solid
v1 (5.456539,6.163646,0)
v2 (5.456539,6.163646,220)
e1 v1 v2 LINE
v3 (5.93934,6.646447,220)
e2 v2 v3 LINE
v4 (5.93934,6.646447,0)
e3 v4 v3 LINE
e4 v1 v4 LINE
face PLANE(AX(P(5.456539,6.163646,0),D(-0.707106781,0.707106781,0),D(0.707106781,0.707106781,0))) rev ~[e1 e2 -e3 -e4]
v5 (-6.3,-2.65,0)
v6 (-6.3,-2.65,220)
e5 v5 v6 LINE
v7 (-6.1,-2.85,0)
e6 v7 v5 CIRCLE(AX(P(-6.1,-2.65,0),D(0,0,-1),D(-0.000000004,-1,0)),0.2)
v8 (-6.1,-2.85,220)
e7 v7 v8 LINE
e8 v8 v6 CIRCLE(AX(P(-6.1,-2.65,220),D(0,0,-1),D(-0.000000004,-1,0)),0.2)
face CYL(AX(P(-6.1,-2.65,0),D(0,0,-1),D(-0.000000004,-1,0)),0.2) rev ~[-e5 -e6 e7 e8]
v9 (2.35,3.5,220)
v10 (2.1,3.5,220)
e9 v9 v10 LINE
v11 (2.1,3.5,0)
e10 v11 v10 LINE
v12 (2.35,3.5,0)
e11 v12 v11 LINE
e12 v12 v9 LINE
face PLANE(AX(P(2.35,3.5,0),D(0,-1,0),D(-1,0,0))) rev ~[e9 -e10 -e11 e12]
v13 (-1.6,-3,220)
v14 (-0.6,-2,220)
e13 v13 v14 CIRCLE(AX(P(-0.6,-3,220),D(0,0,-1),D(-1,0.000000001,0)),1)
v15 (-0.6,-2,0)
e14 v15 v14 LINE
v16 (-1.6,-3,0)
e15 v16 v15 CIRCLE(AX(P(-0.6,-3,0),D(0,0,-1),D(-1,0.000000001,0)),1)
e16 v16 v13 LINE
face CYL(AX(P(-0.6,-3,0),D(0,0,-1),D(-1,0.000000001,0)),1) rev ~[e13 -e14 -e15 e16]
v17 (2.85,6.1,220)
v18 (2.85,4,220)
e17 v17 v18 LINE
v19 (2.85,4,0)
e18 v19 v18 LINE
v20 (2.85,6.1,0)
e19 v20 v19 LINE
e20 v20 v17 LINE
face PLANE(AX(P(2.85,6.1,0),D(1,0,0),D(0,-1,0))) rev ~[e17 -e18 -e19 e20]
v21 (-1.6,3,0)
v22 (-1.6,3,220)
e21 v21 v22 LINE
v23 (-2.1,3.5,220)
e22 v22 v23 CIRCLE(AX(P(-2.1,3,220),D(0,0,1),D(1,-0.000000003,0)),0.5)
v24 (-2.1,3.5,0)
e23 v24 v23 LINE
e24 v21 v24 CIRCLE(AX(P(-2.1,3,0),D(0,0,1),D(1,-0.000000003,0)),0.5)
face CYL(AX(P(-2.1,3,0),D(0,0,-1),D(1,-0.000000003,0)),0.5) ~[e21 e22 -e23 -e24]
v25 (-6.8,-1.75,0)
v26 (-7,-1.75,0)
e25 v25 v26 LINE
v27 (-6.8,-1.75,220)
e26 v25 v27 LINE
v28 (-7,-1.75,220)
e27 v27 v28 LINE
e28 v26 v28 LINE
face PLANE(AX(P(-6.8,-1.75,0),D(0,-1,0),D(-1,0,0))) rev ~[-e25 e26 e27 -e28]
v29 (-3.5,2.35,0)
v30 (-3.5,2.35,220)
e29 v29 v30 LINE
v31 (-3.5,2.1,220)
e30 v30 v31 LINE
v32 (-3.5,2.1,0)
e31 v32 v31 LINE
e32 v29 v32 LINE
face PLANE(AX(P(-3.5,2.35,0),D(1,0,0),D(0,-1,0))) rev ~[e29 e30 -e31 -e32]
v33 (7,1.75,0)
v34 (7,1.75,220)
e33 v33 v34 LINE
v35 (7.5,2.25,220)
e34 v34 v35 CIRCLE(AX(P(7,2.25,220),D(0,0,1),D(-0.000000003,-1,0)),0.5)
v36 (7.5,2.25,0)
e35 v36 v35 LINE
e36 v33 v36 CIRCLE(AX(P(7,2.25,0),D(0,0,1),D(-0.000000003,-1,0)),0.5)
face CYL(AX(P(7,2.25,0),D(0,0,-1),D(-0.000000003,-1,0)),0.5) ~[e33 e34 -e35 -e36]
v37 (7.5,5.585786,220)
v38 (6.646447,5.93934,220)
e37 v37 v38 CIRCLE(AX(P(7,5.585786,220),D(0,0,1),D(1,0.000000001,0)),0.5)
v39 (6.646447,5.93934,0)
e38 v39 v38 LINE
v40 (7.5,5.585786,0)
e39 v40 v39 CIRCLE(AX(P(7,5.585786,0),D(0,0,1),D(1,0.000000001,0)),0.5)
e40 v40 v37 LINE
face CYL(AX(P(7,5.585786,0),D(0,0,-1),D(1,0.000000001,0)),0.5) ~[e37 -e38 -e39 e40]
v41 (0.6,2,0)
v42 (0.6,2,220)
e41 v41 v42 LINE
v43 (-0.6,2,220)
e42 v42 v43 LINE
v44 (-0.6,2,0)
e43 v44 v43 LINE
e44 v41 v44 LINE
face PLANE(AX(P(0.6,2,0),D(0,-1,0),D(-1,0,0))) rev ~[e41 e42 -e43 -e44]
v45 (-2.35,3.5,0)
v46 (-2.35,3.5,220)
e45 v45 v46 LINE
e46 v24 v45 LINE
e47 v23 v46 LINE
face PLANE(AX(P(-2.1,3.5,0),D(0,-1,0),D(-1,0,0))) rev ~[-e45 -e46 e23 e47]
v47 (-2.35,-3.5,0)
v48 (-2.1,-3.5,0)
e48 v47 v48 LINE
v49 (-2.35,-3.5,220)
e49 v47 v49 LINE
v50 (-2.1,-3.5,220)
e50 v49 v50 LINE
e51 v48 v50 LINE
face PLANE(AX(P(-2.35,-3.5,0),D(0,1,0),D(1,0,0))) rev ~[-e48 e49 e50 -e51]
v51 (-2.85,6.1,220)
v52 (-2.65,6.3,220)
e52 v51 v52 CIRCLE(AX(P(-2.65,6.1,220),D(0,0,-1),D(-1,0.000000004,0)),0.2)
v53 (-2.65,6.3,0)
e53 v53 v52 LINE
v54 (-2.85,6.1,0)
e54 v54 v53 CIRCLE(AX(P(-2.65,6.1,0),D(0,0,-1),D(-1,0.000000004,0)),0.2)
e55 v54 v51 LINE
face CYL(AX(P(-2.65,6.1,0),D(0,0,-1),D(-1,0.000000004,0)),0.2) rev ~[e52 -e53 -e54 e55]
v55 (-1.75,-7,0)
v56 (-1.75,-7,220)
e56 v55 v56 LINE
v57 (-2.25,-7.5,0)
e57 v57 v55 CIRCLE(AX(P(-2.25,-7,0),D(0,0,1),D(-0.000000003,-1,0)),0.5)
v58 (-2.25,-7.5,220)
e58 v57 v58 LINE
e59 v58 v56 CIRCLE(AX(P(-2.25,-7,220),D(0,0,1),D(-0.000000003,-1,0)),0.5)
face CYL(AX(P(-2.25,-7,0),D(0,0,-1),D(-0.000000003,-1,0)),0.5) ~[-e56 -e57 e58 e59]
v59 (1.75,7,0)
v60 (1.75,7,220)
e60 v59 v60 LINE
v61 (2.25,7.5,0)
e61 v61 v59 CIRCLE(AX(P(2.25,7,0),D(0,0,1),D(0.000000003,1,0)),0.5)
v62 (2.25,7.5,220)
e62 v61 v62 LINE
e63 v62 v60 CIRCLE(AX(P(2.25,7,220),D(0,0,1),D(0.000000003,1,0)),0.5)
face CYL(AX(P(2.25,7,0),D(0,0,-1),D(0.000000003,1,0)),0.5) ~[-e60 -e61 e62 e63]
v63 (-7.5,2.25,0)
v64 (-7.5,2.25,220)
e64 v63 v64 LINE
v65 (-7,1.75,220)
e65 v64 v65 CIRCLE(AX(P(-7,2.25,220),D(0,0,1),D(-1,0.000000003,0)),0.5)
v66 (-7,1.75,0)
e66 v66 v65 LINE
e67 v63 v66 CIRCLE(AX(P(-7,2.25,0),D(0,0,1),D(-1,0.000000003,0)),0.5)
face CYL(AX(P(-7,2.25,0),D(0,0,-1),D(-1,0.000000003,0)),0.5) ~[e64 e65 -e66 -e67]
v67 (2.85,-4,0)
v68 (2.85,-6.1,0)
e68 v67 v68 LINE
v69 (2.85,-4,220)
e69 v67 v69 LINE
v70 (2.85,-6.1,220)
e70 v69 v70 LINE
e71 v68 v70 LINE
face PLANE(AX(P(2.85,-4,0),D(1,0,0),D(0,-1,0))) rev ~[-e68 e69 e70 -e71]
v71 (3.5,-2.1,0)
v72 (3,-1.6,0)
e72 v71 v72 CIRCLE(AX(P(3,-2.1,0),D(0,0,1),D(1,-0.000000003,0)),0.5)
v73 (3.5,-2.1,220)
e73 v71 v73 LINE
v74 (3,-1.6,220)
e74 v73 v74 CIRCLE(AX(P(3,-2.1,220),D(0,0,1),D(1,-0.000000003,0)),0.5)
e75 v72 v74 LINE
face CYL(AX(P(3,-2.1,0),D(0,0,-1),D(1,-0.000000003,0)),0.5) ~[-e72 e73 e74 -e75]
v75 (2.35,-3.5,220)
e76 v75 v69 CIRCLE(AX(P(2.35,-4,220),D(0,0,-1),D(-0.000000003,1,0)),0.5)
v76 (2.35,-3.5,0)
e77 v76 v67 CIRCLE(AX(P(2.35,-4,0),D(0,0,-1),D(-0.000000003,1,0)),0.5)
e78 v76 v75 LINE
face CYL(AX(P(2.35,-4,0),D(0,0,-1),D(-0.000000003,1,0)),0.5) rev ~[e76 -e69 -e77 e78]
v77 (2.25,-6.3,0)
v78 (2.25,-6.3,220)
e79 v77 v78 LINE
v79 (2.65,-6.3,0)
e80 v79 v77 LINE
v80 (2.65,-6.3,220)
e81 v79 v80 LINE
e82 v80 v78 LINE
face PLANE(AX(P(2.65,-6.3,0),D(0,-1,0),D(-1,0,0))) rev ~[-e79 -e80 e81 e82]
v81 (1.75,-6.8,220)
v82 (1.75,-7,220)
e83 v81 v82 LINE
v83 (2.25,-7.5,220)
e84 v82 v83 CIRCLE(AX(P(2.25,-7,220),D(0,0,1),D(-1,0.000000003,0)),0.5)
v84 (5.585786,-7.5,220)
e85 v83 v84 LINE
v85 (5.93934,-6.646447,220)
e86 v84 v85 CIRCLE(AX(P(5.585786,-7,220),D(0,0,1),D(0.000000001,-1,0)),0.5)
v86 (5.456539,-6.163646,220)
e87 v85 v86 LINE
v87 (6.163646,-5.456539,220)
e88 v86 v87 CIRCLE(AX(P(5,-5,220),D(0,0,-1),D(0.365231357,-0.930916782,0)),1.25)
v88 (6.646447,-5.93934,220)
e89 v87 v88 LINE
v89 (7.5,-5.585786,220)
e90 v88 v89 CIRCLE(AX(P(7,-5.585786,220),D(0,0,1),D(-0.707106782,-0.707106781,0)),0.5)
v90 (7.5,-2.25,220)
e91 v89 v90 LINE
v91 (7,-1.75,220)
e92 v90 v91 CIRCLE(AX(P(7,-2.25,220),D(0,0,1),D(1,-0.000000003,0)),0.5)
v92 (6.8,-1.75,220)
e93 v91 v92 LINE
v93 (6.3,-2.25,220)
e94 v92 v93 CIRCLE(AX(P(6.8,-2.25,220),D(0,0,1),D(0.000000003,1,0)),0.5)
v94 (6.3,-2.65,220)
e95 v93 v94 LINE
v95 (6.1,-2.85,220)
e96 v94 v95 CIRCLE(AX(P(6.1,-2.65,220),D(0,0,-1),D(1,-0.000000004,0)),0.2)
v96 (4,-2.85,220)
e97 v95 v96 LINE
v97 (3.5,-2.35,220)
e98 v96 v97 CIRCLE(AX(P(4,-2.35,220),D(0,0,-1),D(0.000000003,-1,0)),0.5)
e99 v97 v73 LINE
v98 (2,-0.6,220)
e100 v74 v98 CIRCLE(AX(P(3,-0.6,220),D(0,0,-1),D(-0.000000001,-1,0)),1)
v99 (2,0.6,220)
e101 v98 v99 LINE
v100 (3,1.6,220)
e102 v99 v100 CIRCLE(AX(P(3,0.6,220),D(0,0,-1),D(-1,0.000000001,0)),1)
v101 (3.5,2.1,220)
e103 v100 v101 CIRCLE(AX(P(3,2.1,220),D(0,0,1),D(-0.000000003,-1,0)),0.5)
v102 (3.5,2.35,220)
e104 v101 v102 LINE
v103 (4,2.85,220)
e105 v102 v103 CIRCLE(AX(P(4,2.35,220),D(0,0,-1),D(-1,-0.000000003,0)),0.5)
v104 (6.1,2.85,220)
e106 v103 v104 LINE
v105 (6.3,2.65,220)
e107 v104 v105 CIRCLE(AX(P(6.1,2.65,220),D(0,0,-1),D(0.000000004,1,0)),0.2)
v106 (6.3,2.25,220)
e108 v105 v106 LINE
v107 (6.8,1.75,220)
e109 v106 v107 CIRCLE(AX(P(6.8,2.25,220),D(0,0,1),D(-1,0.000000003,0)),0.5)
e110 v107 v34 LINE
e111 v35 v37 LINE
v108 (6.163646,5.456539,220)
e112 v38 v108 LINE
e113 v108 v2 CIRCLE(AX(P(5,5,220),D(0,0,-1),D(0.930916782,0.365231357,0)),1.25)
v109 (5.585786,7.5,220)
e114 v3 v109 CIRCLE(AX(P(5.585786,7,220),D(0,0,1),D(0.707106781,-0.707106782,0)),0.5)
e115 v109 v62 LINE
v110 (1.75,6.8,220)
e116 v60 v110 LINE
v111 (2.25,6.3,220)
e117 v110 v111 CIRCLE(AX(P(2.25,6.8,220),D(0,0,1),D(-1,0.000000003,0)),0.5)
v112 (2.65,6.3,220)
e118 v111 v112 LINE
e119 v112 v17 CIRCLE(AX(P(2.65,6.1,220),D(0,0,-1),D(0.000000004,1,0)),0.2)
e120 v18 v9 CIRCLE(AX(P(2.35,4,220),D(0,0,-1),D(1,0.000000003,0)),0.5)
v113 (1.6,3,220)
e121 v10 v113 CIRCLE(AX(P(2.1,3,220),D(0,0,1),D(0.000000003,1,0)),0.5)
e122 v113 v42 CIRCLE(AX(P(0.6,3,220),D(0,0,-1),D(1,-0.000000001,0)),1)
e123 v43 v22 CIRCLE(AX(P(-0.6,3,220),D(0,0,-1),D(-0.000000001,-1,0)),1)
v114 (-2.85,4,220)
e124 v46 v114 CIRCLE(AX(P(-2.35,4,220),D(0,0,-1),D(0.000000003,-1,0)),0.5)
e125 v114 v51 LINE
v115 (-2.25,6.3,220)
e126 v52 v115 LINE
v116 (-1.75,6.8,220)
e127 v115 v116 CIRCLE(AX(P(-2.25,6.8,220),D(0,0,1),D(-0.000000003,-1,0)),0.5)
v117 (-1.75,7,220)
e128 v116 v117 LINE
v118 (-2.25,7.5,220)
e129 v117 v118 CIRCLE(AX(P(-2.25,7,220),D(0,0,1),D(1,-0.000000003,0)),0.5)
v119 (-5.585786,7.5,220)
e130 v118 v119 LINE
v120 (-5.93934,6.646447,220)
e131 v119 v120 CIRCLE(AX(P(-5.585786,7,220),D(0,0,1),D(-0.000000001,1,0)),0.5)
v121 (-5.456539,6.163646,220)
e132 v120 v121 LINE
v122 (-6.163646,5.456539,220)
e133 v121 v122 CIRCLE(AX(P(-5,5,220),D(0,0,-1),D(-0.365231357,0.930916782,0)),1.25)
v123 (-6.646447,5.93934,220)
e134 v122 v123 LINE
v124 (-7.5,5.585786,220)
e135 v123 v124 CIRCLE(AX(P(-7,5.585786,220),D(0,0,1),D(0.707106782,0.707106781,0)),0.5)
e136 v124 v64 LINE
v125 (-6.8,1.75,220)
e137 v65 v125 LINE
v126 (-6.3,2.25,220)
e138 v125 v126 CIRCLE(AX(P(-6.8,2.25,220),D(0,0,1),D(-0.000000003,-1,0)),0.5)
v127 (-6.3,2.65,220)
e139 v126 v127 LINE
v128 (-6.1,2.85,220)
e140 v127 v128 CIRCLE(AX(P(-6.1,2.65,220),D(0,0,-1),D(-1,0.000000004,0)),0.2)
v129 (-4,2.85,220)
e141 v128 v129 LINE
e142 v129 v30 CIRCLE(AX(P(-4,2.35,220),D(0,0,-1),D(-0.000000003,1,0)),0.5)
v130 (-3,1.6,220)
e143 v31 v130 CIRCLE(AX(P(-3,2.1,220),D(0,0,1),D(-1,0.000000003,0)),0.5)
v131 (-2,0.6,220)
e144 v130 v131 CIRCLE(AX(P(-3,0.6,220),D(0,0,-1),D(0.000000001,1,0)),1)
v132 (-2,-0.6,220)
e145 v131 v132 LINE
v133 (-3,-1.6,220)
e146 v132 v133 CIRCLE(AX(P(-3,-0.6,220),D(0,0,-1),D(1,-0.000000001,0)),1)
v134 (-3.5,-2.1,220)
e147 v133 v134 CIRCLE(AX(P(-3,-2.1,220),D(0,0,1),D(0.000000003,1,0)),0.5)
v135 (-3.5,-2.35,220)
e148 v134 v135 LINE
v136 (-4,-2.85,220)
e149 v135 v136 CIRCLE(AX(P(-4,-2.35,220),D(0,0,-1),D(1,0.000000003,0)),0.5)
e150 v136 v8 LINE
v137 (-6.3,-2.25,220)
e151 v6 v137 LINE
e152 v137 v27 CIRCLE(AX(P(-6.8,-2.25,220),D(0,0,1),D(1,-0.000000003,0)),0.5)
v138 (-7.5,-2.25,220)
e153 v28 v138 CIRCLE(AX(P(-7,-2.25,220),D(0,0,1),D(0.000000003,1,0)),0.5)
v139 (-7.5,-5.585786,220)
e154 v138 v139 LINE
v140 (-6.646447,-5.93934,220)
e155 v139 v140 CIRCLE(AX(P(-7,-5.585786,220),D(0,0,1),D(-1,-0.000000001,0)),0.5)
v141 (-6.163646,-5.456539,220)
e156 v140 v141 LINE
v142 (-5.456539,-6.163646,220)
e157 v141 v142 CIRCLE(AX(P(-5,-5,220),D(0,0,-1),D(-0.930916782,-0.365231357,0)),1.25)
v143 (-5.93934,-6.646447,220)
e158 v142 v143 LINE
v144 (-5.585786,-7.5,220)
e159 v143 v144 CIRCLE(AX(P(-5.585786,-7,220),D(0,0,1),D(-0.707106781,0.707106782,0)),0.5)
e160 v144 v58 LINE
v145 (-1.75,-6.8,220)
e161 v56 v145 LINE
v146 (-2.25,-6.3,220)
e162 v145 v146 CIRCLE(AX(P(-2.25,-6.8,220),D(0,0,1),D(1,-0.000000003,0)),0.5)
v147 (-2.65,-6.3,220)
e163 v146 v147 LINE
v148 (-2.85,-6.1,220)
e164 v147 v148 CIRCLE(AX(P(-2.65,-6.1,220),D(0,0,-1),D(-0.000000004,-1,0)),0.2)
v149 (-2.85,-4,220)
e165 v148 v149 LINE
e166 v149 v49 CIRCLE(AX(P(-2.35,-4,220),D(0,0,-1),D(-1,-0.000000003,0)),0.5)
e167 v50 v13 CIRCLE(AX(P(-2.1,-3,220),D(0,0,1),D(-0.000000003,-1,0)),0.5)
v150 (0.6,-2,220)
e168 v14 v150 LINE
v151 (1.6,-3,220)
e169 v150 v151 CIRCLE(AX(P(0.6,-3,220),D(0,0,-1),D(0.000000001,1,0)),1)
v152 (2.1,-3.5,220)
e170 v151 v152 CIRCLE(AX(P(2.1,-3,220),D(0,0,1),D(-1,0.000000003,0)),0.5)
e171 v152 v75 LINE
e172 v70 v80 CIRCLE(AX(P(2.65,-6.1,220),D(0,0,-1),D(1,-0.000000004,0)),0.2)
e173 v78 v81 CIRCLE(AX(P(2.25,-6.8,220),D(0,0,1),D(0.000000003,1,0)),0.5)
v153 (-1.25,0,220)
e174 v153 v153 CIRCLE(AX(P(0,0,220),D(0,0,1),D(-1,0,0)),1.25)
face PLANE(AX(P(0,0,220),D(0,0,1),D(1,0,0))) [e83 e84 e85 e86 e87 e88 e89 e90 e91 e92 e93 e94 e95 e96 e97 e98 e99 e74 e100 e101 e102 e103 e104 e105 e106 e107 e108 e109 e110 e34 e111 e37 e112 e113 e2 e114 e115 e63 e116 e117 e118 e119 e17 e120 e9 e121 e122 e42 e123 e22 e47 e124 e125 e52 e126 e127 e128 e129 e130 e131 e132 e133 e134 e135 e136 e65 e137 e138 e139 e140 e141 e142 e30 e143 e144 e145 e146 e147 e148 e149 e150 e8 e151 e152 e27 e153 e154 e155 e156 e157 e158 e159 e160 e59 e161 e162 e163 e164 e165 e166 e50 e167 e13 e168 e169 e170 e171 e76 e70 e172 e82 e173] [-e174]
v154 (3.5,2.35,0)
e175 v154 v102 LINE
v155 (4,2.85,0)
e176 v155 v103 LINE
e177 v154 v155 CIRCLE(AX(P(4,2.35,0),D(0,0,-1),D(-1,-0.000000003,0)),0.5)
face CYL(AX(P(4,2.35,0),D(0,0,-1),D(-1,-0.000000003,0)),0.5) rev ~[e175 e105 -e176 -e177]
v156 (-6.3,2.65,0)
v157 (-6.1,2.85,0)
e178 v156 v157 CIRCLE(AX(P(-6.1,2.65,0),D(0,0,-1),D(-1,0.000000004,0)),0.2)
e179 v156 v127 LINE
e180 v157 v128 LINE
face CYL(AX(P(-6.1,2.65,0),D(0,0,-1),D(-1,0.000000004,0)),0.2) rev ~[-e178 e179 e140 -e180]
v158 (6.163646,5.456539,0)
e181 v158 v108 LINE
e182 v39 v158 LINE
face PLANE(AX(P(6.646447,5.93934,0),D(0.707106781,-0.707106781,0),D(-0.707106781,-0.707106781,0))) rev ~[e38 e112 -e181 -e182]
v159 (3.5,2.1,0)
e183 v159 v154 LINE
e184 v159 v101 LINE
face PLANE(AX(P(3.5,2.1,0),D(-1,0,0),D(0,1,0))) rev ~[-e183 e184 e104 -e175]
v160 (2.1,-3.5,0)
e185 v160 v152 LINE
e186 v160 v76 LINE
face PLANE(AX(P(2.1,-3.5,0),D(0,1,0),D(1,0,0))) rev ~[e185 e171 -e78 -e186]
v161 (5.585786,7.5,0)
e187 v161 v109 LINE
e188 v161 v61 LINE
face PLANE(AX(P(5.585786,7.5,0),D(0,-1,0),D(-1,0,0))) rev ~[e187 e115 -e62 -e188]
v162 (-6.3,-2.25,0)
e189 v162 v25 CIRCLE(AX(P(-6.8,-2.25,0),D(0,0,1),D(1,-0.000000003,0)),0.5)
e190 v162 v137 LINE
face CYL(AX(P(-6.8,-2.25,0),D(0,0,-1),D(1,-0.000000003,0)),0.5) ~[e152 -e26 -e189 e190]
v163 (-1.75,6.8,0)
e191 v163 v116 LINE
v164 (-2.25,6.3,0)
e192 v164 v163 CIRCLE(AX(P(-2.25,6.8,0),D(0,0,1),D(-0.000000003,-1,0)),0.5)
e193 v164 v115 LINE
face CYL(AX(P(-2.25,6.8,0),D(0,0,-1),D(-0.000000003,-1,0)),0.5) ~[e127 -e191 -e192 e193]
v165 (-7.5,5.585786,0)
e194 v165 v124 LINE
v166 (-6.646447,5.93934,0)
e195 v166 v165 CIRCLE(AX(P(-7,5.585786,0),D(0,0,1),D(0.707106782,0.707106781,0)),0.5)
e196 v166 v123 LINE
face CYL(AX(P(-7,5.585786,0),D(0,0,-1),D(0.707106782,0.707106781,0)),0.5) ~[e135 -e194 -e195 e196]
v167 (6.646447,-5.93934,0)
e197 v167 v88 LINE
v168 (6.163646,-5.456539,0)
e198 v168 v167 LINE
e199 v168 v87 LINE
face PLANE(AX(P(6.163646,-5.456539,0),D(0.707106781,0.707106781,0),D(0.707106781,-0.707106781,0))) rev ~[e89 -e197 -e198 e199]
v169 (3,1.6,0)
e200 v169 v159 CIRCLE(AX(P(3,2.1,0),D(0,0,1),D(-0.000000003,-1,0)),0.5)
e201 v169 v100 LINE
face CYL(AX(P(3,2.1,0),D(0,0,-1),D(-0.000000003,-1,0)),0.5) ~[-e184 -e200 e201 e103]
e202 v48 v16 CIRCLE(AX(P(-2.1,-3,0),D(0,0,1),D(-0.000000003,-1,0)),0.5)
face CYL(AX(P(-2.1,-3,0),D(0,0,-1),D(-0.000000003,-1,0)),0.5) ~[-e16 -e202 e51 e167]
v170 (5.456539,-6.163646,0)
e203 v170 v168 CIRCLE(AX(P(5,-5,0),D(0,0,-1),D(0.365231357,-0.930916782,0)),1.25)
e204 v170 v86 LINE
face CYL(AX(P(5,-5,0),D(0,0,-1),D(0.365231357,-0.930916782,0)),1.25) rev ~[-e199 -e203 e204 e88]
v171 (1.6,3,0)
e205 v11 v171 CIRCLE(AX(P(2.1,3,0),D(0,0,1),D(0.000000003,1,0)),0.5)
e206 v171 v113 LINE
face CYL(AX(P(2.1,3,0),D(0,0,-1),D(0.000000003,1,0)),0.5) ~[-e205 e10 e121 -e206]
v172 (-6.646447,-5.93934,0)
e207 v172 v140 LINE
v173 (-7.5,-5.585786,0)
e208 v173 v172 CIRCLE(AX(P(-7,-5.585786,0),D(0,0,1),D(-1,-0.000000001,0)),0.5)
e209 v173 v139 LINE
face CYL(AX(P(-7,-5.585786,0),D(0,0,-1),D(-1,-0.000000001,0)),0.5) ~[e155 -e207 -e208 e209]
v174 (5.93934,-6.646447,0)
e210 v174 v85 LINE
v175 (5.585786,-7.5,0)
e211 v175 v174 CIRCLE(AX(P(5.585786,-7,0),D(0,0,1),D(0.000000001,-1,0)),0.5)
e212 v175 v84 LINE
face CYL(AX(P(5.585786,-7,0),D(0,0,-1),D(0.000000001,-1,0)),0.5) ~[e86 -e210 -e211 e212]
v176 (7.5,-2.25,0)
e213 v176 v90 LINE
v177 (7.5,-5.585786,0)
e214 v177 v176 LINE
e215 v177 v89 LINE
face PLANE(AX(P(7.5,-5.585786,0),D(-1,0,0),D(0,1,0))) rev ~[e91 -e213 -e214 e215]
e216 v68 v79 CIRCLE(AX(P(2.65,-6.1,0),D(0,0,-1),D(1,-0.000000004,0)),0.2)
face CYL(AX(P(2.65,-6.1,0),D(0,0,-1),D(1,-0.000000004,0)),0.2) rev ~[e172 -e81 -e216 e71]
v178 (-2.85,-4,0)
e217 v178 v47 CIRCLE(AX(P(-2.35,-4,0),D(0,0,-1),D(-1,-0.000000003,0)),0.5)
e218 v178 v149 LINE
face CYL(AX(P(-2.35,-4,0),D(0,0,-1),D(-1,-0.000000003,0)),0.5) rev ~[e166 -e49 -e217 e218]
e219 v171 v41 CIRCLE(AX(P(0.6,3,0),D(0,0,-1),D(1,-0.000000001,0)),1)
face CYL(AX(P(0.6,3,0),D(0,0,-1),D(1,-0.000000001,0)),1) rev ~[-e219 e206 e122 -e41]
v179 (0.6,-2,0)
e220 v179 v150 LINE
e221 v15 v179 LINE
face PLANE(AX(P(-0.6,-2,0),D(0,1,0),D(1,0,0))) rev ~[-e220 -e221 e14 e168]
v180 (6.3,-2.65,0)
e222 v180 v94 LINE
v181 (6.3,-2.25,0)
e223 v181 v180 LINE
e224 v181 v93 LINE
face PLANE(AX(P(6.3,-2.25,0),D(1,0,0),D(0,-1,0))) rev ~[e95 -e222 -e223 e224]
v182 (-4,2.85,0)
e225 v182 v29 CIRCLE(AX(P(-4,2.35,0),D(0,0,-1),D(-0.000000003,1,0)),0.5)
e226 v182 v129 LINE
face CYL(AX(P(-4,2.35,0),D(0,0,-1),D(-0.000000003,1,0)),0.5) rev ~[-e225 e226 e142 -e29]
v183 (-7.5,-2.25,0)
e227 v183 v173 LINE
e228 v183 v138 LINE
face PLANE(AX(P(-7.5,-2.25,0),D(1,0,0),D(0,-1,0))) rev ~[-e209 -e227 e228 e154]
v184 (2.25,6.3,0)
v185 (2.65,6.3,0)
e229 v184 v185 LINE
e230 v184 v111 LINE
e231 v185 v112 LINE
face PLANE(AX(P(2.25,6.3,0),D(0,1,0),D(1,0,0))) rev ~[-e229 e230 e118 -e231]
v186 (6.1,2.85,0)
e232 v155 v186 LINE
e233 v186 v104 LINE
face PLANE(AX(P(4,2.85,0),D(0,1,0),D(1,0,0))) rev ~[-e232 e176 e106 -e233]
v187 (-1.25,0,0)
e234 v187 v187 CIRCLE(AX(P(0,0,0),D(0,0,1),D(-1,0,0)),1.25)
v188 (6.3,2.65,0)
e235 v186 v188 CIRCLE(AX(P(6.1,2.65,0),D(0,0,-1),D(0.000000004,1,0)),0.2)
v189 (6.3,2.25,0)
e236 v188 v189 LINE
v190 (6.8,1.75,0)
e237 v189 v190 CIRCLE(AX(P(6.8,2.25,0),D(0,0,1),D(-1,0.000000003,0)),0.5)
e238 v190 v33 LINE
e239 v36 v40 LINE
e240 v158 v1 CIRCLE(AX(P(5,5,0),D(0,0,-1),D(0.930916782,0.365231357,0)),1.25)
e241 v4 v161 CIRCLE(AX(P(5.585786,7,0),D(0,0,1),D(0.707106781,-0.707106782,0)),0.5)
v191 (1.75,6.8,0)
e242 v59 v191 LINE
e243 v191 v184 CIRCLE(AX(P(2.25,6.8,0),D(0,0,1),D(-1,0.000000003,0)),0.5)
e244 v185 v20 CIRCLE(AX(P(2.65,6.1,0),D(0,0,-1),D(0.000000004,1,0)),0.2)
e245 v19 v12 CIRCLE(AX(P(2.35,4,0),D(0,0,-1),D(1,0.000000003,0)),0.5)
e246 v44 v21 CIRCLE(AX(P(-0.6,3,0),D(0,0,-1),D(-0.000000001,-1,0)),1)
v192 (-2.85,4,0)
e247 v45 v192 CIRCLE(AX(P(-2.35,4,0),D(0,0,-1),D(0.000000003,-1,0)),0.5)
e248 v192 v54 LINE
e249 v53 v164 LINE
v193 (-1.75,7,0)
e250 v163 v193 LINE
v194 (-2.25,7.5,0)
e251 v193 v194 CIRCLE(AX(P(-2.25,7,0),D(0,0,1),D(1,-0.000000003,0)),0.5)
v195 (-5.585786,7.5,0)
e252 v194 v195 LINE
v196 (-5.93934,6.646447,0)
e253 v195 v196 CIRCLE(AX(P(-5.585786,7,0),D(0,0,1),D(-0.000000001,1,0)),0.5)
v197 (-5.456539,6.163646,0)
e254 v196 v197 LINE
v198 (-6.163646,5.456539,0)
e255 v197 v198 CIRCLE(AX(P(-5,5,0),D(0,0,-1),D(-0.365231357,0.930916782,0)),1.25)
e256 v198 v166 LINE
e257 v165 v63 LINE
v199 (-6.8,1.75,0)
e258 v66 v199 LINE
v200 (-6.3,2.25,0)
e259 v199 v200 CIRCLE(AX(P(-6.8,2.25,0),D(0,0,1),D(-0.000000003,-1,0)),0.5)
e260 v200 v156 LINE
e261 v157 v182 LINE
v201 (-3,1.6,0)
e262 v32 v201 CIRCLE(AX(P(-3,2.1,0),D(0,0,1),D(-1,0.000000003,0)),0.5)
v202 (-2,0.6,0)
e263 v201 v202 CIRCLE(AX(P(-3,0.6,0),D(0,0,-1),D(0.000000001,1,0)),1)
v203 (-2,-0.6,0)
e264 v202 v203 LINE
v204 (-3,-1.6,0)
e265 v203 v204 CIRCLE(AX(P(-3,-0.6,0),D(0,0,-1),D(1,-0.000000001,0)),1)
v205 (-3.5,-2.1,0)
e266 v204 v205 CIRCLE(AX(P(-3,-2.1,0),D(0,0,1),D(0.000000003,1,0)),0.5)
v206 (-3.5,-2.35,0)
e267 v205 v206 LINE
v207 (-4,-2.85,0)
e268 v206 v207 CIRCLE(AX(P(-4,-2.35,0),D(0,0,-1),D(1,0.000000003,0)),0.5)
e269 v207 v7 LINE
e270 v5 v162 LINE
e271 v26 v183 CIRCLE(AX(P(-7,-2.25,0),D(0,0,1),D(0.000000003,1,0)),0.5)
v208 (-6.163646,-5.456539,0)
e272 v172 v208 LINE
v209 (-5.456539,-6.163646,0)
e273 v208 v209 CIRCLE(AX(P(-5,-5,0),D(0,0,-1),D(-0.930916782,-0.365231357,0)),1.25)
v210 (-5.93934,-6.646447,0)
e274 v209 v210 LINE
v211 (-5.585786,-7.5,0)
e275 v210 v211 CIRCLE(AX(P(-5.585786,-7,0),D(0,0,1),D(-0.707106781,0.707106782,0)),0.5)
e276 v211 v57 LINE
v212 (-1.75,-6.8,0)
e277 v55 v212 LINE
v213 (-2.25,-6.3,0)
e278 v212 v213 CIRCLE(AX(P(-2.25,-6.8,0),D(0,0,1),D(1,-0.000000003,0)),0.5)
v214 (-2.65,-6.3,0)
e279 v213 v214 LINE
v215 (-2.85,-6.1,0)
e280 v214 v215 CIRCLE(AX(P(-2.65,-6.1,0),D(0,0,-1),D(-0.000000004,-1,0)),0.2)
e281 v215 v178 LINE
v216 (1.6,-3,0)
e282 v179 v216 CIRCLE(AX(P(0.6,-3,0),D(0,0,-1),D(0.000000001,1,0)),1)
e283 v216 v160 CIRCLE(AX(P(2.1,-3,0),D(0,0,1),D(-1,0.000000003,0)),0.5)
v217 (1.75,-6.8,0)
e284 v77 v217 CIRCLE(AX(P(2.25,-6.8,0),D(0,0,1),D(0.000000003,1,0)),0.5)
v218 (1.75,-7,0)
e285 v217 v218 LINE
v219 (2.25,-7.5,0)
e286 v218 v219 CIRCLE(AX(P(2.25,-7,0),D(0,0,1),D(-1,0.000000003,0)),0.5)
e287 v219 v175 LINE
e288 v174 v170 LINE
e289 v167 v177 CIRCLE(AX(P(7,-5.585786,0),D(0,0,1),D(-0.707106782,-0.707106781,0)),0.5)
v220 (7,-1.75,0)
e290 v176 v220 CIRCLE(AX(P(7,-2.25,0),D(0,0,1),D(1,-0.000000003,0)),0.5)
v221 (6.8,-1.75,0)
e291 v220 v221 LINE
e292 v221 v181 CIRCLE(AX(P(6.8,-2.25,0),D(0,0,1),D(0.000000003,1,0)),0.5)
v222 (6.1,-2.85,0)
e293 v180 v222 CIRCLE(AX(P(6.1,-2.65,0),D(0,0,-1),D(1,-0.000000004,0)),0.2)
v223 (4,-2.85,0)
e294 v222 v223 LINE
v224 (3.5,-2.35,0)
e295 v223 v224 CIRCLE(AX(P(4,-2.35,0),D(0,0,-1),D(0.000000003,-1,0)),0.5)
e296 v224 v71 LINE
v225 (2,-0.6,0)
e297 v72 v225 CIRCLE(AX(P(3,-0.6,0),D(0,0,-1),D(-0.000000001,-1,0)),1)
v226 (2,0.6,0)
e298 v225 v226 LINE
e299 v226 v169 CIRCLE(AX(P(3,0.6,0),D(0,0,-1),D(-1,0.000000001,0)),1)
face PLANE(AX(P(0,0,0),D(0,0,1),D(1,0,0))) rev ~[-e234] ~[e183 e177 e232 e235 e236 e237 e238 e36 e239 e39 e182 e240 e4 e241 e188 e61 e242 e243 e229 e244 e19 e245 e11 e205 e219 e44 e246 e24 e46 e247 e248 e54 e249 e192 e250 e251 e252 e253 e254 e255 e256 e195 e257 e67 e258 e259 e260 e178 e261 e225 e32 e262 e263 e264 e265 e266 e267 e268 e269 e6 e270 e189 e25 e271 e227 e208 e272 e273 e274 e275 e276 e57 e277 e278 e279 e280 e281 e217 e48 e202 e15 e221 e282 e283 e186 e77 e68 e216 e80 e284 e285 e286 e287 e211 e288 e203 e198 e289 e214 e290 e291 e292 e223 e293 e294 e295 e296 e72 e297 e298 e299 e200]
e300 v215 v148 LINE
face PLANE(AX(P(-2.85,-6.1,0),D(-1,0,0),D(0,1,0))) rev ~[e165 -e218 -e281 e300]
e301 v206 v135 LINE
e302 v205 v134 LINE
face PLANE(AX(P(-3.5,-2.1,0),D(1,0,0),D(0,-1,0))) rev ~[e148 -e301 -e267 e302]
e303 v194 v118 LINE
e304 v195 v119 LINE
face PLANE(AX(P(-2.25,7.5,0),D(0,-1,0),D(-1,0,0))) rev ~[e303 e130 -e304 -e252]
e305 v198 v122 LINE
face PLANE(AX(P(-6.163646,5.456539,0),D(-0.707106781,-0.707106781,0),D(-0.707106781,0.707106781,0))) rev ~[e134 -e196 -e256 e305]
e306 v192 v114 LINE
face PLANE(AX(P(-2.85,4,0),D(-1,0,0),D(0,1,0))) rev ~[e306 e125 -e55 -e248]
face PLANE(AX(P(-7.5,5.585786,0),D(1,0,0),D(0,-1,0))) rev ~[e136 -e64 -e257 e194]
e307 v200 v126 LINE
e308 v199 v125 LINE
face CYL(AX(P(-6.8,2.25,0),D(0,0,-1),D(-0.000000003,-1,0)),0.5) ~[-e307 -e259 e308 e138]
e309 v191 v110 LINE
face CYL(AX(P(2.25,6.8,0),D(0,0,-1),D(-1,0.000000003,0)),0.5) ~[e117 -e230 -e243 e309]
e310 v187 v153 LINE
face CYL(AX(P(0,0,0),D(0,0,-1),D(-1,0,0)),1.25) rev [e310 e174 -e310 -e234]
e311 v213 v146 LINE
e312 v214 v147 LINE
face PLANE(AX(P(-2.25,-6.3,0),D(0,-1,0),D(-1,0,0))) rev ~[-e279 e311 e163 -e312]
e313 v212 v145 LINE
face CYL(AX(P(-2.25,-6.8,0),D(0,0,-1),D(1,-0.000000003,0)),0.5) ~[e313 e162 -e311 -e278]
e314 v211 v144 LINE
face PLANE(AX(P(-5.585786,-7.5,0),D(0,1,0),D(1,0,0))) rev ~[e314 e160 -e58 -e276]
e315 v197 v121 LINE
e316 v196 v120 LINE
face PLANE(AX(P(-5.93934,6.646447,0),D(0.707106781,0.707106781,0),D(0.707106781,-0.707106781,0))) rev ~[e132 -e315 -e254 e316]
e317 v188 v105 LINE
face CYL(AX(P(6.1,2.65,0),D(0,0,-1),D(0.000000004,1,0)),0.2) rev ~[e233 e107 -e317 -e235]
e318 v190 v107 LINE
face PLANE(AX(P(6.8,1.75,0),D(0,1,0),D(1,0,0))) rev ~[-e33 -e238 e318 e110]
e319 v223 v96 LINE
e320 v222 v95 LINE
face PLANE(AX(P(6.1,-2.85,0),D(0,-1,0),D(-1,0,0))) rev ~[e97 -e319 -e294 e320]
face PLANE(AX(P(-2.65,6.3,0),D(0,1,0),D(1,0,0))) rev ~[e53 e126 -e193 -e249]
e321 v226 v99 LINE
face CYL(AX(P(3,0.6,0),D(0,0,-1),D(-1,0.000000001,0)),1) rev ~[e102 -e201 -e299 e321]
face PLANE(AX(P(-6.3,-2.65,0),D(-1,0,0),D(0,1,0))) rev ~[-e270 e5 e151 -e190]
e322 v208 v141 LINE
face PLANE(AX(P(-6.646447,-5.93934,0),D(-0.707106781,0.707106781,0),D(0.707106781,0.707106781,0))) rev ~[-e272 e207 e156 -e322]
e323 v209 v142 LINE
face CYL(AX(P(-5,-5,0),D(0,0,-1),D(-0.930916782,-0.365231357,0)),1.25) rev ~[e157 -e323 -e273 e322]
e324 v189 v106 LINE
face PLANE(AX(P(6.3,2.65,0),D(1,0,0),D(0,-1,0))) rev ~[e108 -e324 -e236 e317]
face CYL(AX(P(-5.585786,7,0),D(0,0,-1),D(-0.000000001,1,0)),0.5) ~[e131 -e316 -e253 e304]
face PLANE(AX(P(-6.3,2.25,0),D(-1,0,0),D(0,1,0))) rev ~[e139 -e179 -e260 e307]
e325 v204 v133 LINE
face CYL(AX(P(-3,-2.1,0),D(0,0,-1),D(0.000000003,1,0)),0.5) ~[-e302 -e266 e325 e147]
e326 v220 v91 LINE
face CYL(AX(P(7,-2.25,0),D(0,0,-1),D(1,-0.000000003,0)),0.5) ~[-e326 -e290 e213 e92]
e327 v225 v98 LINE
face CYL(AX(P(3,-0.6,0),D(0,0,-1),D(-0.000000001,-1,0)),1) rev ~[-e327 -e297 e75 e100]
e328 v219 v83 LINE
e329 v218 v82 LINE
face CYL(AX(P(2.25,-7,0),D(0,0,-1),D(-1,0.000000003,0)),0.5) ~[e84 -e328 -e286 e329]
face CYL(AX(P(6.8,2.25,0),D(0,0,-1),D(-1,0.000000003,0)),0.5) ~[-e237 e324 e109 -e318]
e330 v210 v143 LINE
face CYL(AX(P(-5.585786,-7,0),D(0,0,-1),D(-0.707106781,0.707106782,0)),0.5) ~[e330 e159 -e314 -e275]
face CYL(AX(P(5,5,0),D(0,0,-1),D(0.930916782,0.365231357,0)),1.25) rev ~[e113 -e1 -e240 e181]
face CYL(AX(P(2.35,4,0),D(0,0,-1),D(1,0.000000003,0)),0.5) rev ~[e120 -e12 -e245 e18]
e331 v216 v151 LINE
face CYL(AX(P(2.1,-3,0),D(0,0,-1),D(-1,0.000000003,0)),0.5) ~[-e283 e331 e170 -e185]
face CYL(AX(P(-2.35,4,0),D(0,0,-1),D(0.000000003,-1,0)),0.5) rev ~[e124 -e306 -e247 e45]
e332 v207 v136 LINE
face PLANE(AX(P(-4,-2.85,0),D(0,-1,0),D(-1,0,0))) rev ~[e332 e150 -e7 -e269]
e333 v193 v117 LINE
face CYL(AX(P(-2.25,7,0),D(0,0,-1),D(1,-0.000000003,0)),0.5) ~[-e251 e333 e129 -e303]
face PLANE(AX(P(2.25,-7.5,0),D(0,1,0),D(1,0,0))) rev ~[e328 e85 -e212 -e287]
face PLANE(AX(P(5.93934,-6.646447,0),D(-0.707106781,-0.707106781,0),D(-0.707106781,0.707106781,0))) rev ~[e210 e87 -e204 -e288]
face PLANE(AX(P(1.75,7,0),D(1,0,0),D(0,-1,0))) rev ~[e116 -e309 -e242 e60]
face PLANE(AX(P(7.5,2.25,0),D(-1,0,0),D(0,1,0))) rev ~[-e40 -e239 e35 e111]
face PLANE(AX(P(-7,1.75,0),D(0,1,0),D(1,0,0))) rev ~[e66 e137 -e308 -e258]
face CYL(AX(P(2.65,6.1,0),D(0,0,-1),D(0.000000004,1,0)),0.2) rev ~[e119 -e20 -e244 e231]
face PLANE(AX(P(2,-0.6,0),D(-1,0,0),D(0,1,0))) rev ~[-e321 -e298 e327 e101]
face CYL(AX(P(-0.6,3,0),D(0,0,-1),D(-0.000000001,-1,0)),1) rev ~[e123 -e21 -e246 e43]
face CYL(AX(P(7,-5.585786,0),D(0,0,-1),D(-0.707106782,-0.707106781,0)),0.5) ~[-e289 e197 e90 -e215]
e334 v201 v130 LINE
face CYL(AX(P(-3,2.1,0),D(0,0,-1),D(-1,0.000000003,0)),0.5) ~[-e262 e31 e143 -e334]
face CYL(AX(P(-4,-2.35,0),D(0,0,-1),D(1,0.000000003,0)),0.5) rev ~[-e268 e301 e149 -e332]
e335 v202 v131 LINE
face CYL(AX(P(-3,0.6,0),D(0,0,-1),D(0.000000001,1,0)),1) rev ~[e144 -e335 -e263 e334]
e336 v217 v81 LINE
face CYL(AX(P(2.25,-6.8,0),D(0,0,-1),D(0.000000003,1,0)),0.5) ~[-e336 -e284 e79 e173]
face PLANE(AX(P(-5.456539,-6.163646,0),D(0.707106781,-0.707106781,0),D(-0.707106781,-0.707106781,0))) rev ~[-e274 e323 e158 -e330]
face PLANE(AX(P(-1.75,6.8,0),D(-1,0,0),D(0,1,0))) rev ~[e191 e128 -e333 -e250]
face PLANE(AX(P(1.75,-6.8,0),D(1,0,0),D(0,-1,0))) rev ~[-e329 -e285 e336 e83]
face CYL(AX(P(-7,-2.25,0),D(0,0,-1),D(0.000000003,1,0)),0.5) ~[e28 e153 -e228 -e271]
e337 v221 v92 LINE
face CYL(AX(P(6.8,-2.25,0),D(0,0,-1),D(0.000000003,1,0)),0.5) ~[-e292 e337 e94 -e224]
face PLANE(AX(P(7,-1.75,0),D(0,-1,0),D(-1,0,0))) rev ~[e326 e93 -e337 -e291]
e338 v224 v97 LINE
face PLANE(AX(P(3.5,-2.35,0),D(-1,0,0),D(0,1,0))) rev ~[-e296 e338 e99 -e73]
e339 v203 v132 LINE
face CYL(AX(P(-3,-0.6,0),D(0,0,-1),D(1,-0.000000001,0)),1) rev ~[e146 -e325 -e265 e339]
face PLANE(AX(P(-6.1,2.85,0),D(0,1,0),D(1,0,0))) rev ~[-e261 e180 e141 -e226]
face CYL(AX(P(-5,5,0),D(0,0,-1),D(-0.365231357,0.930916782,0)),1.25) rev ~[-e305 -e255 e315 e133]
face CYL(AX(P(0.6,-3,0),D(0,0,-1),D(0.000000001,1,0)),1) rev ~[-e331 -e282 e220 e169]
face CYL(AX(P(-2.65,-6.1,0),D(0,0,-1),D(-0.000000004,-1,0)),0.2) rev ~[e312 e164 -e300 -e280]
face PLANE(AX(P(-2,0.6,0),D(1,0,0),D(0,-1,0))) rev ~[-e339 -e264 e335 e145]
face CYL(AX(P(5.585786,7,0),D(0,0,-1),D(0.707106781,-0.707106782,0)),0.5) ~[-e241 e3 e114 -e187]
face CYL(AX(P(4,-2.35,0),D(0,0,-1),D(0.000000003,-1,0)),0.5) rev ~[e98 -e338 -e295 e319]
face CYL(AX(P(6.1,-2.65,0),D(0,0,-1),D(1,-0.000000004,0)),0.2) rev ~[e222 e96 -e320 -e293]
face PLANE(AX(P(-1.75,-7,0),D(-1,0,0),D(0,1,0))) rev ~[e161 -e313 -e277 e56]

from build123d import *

# Parameters (mm, degrees)
SKETCH1_R           = 1.25
BOSS_EXTRUDE1_DEPTH = 220


with BuildPart() as part:
    # Sketch1 → Boss-Extrude1 (new body)
    with BuildSketch(Plane.XY):
        with BuildLine():
            Line((6.646446609, 5.939339828), (6.163645978, 5.456539197))
            ThreePointArc((6.163645978, 5.456539197), (4.116116524, 4.116116524), (5.456539197, 6.163645978))
            Line((5.456539197, 6.163645978), (5.939339828, 6.646446609))
            ThreePointArc((5.939339828, 6.646446609), (6.047726204, 7.191341716), (5.585786438, 7.5))
            Line((5.585786438, 7.5), (2.25, 7.5))
            ThreePointArc((2.25, 7.5), (1.896446609, 7.353553391), (1.75, 7))
            Line((1.75, 7), (1.75, 6.8))
            ThreePointArc((1.75, 6.8), (1.896446609, 6.446446609), (2.25, 6.3))
            Line((2.25, 6.3), (2.65, 6.3))
            ThreePointArc((2.65, 6.3), (2.791421356, 6.241421356), (2.85, 6.1))
            Line((2.85, 6.1), (2.85, 4))
            ThreePointArc((2.85, 4), (2.703553391, 3.646446609), (2.35, 3.5))
            Line((2.35, 3.5), (2.1, 3.5))
            ThreePointArc((2.1, 3.5), (1.746446609, 3.353553391), (1.6, 3))
            ThreePointArc((1.6, 3), (1.307106781, 2.292893219), (0.6, 2))
            Line((0.6, 2), (-0.6, 2))
            ThreePointArc((-0.6, 2), (-1.307106781, 2.292893219), (-1.6, 3))
            ThreePointArc((-1.6, 3), (-1.746446609, 3.353553391), (-2.1, 3.5))
            Line((-2.1, 3.5), (-2.35, 3.5))
            ThreePointArc((-2.35, 3.5), (-2.703553391, 3.646446609), (-2.85, 4))
            Line((-2.85, 4), (-2.85, 6.1))
            ThreePointArc((-2.85, 6.1), (-2.791421356, 6.241421356), (-2.65, 6.3))
            Line((-2.65, 6.3), (-2.25, 6.3))
            ThreePointArc((-2.25, 6.3), (-1.896446609, 6.446446609), (-1.75, 6.8))
            Line((-1.75, 6.8), (-1.75, 7))
            ThreePointArc((-1.75, 7), (-1.896446609, 7.353553391), (-2.25, 7.5))
            Line((-2.25, 7.5), (-5.585786438, 7.5))
            ThreePointArc((-5.585786438, 7.5), (-6.047726204, 7.191341716), (-5.939339828, 6.646446609))
            Line((-5.939339828, 6.646446609), (-5.456539197, 6.163645978))
            ThreePointArc((-5.456539197, 6.163645978), (-4.116116524, 4.116116524), (-6.163645978, 5.456539197))
            Line((-6.163645978, 5.456539197), (-6.646446609, 5.939339828))
            ThreePointArc((-6.646446609, 5.939339828), (-7.191341716, 6.047726204), (-7.5, 5.585786438))
            Line((-7.5, 5.585786438), (-7.5, 2.25))
            ThreePointArc((-7.5, 2.25), (-7.353553391, 1.896446609), (-7, 1.75))
            Line((-7, 1.75), (-6.8, 1.75))
            ThreePointArc((-6.8, 1.75), (-6.446446609, 1.896446609), (-6.3, 2.25))
            Line((-6.3, 2.25), (-6.3, 2.65))
            ThreePointArc((-6.3, 2.65), (-6.241421356, 2.791421356), (-6.1, 2.85))
            Line((-6.1, 2.85), (-4, 2.85))
            ThreePointArc((-4, 2.85), (-3.646446609, 2.703553391), (-3.5, 2.35))
            Line((-3.5, 2.35), (-3.5, 2.1))
            ThreePointArc((-3.5, 2.1), (-3.353553391, 1.746446609), (-3, 1.6))
            ThreePointArc((-3, 1.6), (-2.292893219, 1.307106781), (-2, 0.6))
            Line((-2, 0.6), (-2, -0.6))
            ThreePointArc((-2, -0.6), (-2.292893219, -1.307106781), (-3, -1.6))
            ThreePointArc((-3, -1.6), (-3.353553391, -1.746446609), (-3.5, -2.1))
            Line((-3.5, -2.1), (-3.5, -2.35))
            ThreePointArc((-3.5, -2.35), (-3.646446609, -2.703553391), (-4, -2.85))
            Line((-4, -2.85), (-6.1, -2.85))
            ThreePointArc((-6.1, -2.85), (-6.241421356, -2.791421356), (-6.3, -2.65))
            Line((-6.3, -2.65), (-6.3, -2.25))
            ThreePointArc((-6.3, -2.25), (-6.446446609, -1.896446609), (-6.8, -1.75))
            Line((-6.8, -1.75), (-7, -1.75))
            ThreePointArc((-7, -1.75), (-7.353553391, -1.896446609), (-7.5, -2.25))
            Line((-7.5, -2.25), (-7.5, -5.585786438))
            ThreePointArc((-7.5, -5.585786438), (-7.191341716, -6.047726204), (-6.646446609, -5.939339828))
            Line((-6.646446609, -5.939339828), (-6.163645978, -5.456539197))
            ThreePointArc((-6.163645978, -5.456539197), (-4.116116524, -4.116116524), (-5.456539197, -6.163645978))
            Line((-5.456539197, -6.163645978), (-5.939339828, -6.646446609))
            ThreePointArc((-5.939339828, -6.646446609), (-6.047726204, -7.191341716), (-5.585786438, -7.5))
            Line((-5.585786438, -7.5), (-2.25, -7.5))
            ThreePointArc((-2.25, -7.5), (-1.896446609, -7.353553391), (-1.75, -7))
            Line((-1.75, -7), (-1.75, -6.8))
            ThreePointArc((-1.75, -6.8), (-1.896446609, -6.446446609), (-2.25, -6.3))
            Line((-2.25, -6.3), (-2.65, -6.3))
            ThreePointArc((-2.65, -6.3), (-2.791421356, -6.241421356), (-2.85, -6.1))
            Line((-2.85, -6.1), (-2.85, -4))
            ThreePointArc((-2.85, -4), (-2.703553391, -3.646446609), (-2.35, -3.5))
            Line((-2.35, -3.5), (-2.1, -3.5))
            ThreePointArc((-2.1, -3.5), (-1.746446609, -3.353553391), (-1.6, -3))
            ThreePointArc((-1.6, -3), (-1.307106781, -2.292893219), (-0.6, -2))
            Line((-0.6, -2), (0.6, -2))
            ThreePointArc((0.6, -2), (1.307106781, -2.292893219), (1.6, -3))
            ThreePointArc((1.6, -3), (1.746446609, -3.353553391), (2.1, -3.5))
            Line((2.1, -3.5), (2.35, -3.5))
            ThreePointArc((2.35, -3.5), (2.703553391, -3.646446609), (2.85, -4))
            Line((2.85, -4), (2.85, -6.1))
            ThreePointArc((2.85, -6.1), (2.791421356, -6.241421356), (2.65, -6.3))
            Line((2.65, -6.3), (2.25, -6.3))
            ThreePointArc((2.25, -6.3), (1.896446609, -6.446446609), (1.75, -6.8))
            Line((1.75, -6.8), (1.75, -7))
            ThreePointArc((1.75, -7), (1.896446609, -7.353553391), (2.25, -7.5))
            Line((2.25, -7.5), (5.585786438, -7.5))
            ThreePointArc((5.585786438, -7.5), (6.047726204, -7.191341716), (5.939339828, -6.646446609))
            Line((5.939339828, -6.646446609), (5.456539197, -6.163645978))
            ThreePointArc((5.456539197, -6.163645978), (4.116116524, -4.116116524), (6.163645978, -5.456539197))
            Line((6.163645978, -5.456539197), (6.646446609, -5.939339828))
            ThreePointArc((6.646446609, -5.939339828), (7.191341716, -6.047726204), (7.5, -5.585786438))
            Line((7.5, -5.585786438), (7.5, -2.25))
            ThreePointArc((7.5, -2.25), (7.353553391, -1.896446609), (7, -1.75))
            Line((7, -1.75), (6.8, -1.75))
            ThreePointArc((6.8, -1.75), (6.446446609, -1.896446609), (6.3, -2.25))
            Line((6.3, -2.25), (6.3, -2.65))
            ThreePointArc((6.3, -2.65), (6.241421356, -2.791421356), (6.1, -2.85))
            Line((6.1, -2.85), (4, -2.85))
            ThreePointArc((4, -2.85), (3.646446609, -2.703553391), (3.5, -2.35))
            Line((3.5, -2.35), (3.5, -2.1))
            ThreePointArc((3.5, -2.1), (3.353553391, -1.746446609), (3, -1.6))
            ThreePointArc((3, -1.6), (2.292893219, -1.307106781), (2, -0.6))
            Line((2, -0.6), (2, 0.6))
            ThreePointArc((2, 0.6), (2.292893219, 1.307106781), (3, 1.6))
            ThreePointArc((3, 1.6), (3.353553391, 1.746446609), (3.5, 2.1))
            Line((3.5, 2.1), (3.5, 2.35))
            ThreePointArc((3.5, 2.35), (3.646446609, 2.703553391), (4, 2.85))
            Line((4, 2.85), (6.1, 2.85))
            ThreePointArc((6.1, 2.85), (6.241421356, 2.791421356), (6.3, 2.65))
            Line((6.3, 2.65), (6.3, 2.25))
            ThreePointArc((6.3, 2.25), (6.446446609, 1.896446609), (6.8, 1.75))
            Line((6.8, 1.75), (7, 1.75))
            ThreePointArc((7, 1.75), (7.353553391, 1.896446609), (7.5, 2.25))
            Line((7.5, 2.25), (7.5, 5.585786438))
            ThreePointArc((7.5, 5.585786438), (7.191341716, 6.047726204), (6.646446609, 5.939339828))
        make_face()
        with Locations(Location((0, 0, 0), (0, 0, 180))):
            Circle(SKETCH1_R, mode=Mode.SUBTRACT)
    extrude(amount=BOSS_EXTRUDE1_DEPTH)


solid = part.part
